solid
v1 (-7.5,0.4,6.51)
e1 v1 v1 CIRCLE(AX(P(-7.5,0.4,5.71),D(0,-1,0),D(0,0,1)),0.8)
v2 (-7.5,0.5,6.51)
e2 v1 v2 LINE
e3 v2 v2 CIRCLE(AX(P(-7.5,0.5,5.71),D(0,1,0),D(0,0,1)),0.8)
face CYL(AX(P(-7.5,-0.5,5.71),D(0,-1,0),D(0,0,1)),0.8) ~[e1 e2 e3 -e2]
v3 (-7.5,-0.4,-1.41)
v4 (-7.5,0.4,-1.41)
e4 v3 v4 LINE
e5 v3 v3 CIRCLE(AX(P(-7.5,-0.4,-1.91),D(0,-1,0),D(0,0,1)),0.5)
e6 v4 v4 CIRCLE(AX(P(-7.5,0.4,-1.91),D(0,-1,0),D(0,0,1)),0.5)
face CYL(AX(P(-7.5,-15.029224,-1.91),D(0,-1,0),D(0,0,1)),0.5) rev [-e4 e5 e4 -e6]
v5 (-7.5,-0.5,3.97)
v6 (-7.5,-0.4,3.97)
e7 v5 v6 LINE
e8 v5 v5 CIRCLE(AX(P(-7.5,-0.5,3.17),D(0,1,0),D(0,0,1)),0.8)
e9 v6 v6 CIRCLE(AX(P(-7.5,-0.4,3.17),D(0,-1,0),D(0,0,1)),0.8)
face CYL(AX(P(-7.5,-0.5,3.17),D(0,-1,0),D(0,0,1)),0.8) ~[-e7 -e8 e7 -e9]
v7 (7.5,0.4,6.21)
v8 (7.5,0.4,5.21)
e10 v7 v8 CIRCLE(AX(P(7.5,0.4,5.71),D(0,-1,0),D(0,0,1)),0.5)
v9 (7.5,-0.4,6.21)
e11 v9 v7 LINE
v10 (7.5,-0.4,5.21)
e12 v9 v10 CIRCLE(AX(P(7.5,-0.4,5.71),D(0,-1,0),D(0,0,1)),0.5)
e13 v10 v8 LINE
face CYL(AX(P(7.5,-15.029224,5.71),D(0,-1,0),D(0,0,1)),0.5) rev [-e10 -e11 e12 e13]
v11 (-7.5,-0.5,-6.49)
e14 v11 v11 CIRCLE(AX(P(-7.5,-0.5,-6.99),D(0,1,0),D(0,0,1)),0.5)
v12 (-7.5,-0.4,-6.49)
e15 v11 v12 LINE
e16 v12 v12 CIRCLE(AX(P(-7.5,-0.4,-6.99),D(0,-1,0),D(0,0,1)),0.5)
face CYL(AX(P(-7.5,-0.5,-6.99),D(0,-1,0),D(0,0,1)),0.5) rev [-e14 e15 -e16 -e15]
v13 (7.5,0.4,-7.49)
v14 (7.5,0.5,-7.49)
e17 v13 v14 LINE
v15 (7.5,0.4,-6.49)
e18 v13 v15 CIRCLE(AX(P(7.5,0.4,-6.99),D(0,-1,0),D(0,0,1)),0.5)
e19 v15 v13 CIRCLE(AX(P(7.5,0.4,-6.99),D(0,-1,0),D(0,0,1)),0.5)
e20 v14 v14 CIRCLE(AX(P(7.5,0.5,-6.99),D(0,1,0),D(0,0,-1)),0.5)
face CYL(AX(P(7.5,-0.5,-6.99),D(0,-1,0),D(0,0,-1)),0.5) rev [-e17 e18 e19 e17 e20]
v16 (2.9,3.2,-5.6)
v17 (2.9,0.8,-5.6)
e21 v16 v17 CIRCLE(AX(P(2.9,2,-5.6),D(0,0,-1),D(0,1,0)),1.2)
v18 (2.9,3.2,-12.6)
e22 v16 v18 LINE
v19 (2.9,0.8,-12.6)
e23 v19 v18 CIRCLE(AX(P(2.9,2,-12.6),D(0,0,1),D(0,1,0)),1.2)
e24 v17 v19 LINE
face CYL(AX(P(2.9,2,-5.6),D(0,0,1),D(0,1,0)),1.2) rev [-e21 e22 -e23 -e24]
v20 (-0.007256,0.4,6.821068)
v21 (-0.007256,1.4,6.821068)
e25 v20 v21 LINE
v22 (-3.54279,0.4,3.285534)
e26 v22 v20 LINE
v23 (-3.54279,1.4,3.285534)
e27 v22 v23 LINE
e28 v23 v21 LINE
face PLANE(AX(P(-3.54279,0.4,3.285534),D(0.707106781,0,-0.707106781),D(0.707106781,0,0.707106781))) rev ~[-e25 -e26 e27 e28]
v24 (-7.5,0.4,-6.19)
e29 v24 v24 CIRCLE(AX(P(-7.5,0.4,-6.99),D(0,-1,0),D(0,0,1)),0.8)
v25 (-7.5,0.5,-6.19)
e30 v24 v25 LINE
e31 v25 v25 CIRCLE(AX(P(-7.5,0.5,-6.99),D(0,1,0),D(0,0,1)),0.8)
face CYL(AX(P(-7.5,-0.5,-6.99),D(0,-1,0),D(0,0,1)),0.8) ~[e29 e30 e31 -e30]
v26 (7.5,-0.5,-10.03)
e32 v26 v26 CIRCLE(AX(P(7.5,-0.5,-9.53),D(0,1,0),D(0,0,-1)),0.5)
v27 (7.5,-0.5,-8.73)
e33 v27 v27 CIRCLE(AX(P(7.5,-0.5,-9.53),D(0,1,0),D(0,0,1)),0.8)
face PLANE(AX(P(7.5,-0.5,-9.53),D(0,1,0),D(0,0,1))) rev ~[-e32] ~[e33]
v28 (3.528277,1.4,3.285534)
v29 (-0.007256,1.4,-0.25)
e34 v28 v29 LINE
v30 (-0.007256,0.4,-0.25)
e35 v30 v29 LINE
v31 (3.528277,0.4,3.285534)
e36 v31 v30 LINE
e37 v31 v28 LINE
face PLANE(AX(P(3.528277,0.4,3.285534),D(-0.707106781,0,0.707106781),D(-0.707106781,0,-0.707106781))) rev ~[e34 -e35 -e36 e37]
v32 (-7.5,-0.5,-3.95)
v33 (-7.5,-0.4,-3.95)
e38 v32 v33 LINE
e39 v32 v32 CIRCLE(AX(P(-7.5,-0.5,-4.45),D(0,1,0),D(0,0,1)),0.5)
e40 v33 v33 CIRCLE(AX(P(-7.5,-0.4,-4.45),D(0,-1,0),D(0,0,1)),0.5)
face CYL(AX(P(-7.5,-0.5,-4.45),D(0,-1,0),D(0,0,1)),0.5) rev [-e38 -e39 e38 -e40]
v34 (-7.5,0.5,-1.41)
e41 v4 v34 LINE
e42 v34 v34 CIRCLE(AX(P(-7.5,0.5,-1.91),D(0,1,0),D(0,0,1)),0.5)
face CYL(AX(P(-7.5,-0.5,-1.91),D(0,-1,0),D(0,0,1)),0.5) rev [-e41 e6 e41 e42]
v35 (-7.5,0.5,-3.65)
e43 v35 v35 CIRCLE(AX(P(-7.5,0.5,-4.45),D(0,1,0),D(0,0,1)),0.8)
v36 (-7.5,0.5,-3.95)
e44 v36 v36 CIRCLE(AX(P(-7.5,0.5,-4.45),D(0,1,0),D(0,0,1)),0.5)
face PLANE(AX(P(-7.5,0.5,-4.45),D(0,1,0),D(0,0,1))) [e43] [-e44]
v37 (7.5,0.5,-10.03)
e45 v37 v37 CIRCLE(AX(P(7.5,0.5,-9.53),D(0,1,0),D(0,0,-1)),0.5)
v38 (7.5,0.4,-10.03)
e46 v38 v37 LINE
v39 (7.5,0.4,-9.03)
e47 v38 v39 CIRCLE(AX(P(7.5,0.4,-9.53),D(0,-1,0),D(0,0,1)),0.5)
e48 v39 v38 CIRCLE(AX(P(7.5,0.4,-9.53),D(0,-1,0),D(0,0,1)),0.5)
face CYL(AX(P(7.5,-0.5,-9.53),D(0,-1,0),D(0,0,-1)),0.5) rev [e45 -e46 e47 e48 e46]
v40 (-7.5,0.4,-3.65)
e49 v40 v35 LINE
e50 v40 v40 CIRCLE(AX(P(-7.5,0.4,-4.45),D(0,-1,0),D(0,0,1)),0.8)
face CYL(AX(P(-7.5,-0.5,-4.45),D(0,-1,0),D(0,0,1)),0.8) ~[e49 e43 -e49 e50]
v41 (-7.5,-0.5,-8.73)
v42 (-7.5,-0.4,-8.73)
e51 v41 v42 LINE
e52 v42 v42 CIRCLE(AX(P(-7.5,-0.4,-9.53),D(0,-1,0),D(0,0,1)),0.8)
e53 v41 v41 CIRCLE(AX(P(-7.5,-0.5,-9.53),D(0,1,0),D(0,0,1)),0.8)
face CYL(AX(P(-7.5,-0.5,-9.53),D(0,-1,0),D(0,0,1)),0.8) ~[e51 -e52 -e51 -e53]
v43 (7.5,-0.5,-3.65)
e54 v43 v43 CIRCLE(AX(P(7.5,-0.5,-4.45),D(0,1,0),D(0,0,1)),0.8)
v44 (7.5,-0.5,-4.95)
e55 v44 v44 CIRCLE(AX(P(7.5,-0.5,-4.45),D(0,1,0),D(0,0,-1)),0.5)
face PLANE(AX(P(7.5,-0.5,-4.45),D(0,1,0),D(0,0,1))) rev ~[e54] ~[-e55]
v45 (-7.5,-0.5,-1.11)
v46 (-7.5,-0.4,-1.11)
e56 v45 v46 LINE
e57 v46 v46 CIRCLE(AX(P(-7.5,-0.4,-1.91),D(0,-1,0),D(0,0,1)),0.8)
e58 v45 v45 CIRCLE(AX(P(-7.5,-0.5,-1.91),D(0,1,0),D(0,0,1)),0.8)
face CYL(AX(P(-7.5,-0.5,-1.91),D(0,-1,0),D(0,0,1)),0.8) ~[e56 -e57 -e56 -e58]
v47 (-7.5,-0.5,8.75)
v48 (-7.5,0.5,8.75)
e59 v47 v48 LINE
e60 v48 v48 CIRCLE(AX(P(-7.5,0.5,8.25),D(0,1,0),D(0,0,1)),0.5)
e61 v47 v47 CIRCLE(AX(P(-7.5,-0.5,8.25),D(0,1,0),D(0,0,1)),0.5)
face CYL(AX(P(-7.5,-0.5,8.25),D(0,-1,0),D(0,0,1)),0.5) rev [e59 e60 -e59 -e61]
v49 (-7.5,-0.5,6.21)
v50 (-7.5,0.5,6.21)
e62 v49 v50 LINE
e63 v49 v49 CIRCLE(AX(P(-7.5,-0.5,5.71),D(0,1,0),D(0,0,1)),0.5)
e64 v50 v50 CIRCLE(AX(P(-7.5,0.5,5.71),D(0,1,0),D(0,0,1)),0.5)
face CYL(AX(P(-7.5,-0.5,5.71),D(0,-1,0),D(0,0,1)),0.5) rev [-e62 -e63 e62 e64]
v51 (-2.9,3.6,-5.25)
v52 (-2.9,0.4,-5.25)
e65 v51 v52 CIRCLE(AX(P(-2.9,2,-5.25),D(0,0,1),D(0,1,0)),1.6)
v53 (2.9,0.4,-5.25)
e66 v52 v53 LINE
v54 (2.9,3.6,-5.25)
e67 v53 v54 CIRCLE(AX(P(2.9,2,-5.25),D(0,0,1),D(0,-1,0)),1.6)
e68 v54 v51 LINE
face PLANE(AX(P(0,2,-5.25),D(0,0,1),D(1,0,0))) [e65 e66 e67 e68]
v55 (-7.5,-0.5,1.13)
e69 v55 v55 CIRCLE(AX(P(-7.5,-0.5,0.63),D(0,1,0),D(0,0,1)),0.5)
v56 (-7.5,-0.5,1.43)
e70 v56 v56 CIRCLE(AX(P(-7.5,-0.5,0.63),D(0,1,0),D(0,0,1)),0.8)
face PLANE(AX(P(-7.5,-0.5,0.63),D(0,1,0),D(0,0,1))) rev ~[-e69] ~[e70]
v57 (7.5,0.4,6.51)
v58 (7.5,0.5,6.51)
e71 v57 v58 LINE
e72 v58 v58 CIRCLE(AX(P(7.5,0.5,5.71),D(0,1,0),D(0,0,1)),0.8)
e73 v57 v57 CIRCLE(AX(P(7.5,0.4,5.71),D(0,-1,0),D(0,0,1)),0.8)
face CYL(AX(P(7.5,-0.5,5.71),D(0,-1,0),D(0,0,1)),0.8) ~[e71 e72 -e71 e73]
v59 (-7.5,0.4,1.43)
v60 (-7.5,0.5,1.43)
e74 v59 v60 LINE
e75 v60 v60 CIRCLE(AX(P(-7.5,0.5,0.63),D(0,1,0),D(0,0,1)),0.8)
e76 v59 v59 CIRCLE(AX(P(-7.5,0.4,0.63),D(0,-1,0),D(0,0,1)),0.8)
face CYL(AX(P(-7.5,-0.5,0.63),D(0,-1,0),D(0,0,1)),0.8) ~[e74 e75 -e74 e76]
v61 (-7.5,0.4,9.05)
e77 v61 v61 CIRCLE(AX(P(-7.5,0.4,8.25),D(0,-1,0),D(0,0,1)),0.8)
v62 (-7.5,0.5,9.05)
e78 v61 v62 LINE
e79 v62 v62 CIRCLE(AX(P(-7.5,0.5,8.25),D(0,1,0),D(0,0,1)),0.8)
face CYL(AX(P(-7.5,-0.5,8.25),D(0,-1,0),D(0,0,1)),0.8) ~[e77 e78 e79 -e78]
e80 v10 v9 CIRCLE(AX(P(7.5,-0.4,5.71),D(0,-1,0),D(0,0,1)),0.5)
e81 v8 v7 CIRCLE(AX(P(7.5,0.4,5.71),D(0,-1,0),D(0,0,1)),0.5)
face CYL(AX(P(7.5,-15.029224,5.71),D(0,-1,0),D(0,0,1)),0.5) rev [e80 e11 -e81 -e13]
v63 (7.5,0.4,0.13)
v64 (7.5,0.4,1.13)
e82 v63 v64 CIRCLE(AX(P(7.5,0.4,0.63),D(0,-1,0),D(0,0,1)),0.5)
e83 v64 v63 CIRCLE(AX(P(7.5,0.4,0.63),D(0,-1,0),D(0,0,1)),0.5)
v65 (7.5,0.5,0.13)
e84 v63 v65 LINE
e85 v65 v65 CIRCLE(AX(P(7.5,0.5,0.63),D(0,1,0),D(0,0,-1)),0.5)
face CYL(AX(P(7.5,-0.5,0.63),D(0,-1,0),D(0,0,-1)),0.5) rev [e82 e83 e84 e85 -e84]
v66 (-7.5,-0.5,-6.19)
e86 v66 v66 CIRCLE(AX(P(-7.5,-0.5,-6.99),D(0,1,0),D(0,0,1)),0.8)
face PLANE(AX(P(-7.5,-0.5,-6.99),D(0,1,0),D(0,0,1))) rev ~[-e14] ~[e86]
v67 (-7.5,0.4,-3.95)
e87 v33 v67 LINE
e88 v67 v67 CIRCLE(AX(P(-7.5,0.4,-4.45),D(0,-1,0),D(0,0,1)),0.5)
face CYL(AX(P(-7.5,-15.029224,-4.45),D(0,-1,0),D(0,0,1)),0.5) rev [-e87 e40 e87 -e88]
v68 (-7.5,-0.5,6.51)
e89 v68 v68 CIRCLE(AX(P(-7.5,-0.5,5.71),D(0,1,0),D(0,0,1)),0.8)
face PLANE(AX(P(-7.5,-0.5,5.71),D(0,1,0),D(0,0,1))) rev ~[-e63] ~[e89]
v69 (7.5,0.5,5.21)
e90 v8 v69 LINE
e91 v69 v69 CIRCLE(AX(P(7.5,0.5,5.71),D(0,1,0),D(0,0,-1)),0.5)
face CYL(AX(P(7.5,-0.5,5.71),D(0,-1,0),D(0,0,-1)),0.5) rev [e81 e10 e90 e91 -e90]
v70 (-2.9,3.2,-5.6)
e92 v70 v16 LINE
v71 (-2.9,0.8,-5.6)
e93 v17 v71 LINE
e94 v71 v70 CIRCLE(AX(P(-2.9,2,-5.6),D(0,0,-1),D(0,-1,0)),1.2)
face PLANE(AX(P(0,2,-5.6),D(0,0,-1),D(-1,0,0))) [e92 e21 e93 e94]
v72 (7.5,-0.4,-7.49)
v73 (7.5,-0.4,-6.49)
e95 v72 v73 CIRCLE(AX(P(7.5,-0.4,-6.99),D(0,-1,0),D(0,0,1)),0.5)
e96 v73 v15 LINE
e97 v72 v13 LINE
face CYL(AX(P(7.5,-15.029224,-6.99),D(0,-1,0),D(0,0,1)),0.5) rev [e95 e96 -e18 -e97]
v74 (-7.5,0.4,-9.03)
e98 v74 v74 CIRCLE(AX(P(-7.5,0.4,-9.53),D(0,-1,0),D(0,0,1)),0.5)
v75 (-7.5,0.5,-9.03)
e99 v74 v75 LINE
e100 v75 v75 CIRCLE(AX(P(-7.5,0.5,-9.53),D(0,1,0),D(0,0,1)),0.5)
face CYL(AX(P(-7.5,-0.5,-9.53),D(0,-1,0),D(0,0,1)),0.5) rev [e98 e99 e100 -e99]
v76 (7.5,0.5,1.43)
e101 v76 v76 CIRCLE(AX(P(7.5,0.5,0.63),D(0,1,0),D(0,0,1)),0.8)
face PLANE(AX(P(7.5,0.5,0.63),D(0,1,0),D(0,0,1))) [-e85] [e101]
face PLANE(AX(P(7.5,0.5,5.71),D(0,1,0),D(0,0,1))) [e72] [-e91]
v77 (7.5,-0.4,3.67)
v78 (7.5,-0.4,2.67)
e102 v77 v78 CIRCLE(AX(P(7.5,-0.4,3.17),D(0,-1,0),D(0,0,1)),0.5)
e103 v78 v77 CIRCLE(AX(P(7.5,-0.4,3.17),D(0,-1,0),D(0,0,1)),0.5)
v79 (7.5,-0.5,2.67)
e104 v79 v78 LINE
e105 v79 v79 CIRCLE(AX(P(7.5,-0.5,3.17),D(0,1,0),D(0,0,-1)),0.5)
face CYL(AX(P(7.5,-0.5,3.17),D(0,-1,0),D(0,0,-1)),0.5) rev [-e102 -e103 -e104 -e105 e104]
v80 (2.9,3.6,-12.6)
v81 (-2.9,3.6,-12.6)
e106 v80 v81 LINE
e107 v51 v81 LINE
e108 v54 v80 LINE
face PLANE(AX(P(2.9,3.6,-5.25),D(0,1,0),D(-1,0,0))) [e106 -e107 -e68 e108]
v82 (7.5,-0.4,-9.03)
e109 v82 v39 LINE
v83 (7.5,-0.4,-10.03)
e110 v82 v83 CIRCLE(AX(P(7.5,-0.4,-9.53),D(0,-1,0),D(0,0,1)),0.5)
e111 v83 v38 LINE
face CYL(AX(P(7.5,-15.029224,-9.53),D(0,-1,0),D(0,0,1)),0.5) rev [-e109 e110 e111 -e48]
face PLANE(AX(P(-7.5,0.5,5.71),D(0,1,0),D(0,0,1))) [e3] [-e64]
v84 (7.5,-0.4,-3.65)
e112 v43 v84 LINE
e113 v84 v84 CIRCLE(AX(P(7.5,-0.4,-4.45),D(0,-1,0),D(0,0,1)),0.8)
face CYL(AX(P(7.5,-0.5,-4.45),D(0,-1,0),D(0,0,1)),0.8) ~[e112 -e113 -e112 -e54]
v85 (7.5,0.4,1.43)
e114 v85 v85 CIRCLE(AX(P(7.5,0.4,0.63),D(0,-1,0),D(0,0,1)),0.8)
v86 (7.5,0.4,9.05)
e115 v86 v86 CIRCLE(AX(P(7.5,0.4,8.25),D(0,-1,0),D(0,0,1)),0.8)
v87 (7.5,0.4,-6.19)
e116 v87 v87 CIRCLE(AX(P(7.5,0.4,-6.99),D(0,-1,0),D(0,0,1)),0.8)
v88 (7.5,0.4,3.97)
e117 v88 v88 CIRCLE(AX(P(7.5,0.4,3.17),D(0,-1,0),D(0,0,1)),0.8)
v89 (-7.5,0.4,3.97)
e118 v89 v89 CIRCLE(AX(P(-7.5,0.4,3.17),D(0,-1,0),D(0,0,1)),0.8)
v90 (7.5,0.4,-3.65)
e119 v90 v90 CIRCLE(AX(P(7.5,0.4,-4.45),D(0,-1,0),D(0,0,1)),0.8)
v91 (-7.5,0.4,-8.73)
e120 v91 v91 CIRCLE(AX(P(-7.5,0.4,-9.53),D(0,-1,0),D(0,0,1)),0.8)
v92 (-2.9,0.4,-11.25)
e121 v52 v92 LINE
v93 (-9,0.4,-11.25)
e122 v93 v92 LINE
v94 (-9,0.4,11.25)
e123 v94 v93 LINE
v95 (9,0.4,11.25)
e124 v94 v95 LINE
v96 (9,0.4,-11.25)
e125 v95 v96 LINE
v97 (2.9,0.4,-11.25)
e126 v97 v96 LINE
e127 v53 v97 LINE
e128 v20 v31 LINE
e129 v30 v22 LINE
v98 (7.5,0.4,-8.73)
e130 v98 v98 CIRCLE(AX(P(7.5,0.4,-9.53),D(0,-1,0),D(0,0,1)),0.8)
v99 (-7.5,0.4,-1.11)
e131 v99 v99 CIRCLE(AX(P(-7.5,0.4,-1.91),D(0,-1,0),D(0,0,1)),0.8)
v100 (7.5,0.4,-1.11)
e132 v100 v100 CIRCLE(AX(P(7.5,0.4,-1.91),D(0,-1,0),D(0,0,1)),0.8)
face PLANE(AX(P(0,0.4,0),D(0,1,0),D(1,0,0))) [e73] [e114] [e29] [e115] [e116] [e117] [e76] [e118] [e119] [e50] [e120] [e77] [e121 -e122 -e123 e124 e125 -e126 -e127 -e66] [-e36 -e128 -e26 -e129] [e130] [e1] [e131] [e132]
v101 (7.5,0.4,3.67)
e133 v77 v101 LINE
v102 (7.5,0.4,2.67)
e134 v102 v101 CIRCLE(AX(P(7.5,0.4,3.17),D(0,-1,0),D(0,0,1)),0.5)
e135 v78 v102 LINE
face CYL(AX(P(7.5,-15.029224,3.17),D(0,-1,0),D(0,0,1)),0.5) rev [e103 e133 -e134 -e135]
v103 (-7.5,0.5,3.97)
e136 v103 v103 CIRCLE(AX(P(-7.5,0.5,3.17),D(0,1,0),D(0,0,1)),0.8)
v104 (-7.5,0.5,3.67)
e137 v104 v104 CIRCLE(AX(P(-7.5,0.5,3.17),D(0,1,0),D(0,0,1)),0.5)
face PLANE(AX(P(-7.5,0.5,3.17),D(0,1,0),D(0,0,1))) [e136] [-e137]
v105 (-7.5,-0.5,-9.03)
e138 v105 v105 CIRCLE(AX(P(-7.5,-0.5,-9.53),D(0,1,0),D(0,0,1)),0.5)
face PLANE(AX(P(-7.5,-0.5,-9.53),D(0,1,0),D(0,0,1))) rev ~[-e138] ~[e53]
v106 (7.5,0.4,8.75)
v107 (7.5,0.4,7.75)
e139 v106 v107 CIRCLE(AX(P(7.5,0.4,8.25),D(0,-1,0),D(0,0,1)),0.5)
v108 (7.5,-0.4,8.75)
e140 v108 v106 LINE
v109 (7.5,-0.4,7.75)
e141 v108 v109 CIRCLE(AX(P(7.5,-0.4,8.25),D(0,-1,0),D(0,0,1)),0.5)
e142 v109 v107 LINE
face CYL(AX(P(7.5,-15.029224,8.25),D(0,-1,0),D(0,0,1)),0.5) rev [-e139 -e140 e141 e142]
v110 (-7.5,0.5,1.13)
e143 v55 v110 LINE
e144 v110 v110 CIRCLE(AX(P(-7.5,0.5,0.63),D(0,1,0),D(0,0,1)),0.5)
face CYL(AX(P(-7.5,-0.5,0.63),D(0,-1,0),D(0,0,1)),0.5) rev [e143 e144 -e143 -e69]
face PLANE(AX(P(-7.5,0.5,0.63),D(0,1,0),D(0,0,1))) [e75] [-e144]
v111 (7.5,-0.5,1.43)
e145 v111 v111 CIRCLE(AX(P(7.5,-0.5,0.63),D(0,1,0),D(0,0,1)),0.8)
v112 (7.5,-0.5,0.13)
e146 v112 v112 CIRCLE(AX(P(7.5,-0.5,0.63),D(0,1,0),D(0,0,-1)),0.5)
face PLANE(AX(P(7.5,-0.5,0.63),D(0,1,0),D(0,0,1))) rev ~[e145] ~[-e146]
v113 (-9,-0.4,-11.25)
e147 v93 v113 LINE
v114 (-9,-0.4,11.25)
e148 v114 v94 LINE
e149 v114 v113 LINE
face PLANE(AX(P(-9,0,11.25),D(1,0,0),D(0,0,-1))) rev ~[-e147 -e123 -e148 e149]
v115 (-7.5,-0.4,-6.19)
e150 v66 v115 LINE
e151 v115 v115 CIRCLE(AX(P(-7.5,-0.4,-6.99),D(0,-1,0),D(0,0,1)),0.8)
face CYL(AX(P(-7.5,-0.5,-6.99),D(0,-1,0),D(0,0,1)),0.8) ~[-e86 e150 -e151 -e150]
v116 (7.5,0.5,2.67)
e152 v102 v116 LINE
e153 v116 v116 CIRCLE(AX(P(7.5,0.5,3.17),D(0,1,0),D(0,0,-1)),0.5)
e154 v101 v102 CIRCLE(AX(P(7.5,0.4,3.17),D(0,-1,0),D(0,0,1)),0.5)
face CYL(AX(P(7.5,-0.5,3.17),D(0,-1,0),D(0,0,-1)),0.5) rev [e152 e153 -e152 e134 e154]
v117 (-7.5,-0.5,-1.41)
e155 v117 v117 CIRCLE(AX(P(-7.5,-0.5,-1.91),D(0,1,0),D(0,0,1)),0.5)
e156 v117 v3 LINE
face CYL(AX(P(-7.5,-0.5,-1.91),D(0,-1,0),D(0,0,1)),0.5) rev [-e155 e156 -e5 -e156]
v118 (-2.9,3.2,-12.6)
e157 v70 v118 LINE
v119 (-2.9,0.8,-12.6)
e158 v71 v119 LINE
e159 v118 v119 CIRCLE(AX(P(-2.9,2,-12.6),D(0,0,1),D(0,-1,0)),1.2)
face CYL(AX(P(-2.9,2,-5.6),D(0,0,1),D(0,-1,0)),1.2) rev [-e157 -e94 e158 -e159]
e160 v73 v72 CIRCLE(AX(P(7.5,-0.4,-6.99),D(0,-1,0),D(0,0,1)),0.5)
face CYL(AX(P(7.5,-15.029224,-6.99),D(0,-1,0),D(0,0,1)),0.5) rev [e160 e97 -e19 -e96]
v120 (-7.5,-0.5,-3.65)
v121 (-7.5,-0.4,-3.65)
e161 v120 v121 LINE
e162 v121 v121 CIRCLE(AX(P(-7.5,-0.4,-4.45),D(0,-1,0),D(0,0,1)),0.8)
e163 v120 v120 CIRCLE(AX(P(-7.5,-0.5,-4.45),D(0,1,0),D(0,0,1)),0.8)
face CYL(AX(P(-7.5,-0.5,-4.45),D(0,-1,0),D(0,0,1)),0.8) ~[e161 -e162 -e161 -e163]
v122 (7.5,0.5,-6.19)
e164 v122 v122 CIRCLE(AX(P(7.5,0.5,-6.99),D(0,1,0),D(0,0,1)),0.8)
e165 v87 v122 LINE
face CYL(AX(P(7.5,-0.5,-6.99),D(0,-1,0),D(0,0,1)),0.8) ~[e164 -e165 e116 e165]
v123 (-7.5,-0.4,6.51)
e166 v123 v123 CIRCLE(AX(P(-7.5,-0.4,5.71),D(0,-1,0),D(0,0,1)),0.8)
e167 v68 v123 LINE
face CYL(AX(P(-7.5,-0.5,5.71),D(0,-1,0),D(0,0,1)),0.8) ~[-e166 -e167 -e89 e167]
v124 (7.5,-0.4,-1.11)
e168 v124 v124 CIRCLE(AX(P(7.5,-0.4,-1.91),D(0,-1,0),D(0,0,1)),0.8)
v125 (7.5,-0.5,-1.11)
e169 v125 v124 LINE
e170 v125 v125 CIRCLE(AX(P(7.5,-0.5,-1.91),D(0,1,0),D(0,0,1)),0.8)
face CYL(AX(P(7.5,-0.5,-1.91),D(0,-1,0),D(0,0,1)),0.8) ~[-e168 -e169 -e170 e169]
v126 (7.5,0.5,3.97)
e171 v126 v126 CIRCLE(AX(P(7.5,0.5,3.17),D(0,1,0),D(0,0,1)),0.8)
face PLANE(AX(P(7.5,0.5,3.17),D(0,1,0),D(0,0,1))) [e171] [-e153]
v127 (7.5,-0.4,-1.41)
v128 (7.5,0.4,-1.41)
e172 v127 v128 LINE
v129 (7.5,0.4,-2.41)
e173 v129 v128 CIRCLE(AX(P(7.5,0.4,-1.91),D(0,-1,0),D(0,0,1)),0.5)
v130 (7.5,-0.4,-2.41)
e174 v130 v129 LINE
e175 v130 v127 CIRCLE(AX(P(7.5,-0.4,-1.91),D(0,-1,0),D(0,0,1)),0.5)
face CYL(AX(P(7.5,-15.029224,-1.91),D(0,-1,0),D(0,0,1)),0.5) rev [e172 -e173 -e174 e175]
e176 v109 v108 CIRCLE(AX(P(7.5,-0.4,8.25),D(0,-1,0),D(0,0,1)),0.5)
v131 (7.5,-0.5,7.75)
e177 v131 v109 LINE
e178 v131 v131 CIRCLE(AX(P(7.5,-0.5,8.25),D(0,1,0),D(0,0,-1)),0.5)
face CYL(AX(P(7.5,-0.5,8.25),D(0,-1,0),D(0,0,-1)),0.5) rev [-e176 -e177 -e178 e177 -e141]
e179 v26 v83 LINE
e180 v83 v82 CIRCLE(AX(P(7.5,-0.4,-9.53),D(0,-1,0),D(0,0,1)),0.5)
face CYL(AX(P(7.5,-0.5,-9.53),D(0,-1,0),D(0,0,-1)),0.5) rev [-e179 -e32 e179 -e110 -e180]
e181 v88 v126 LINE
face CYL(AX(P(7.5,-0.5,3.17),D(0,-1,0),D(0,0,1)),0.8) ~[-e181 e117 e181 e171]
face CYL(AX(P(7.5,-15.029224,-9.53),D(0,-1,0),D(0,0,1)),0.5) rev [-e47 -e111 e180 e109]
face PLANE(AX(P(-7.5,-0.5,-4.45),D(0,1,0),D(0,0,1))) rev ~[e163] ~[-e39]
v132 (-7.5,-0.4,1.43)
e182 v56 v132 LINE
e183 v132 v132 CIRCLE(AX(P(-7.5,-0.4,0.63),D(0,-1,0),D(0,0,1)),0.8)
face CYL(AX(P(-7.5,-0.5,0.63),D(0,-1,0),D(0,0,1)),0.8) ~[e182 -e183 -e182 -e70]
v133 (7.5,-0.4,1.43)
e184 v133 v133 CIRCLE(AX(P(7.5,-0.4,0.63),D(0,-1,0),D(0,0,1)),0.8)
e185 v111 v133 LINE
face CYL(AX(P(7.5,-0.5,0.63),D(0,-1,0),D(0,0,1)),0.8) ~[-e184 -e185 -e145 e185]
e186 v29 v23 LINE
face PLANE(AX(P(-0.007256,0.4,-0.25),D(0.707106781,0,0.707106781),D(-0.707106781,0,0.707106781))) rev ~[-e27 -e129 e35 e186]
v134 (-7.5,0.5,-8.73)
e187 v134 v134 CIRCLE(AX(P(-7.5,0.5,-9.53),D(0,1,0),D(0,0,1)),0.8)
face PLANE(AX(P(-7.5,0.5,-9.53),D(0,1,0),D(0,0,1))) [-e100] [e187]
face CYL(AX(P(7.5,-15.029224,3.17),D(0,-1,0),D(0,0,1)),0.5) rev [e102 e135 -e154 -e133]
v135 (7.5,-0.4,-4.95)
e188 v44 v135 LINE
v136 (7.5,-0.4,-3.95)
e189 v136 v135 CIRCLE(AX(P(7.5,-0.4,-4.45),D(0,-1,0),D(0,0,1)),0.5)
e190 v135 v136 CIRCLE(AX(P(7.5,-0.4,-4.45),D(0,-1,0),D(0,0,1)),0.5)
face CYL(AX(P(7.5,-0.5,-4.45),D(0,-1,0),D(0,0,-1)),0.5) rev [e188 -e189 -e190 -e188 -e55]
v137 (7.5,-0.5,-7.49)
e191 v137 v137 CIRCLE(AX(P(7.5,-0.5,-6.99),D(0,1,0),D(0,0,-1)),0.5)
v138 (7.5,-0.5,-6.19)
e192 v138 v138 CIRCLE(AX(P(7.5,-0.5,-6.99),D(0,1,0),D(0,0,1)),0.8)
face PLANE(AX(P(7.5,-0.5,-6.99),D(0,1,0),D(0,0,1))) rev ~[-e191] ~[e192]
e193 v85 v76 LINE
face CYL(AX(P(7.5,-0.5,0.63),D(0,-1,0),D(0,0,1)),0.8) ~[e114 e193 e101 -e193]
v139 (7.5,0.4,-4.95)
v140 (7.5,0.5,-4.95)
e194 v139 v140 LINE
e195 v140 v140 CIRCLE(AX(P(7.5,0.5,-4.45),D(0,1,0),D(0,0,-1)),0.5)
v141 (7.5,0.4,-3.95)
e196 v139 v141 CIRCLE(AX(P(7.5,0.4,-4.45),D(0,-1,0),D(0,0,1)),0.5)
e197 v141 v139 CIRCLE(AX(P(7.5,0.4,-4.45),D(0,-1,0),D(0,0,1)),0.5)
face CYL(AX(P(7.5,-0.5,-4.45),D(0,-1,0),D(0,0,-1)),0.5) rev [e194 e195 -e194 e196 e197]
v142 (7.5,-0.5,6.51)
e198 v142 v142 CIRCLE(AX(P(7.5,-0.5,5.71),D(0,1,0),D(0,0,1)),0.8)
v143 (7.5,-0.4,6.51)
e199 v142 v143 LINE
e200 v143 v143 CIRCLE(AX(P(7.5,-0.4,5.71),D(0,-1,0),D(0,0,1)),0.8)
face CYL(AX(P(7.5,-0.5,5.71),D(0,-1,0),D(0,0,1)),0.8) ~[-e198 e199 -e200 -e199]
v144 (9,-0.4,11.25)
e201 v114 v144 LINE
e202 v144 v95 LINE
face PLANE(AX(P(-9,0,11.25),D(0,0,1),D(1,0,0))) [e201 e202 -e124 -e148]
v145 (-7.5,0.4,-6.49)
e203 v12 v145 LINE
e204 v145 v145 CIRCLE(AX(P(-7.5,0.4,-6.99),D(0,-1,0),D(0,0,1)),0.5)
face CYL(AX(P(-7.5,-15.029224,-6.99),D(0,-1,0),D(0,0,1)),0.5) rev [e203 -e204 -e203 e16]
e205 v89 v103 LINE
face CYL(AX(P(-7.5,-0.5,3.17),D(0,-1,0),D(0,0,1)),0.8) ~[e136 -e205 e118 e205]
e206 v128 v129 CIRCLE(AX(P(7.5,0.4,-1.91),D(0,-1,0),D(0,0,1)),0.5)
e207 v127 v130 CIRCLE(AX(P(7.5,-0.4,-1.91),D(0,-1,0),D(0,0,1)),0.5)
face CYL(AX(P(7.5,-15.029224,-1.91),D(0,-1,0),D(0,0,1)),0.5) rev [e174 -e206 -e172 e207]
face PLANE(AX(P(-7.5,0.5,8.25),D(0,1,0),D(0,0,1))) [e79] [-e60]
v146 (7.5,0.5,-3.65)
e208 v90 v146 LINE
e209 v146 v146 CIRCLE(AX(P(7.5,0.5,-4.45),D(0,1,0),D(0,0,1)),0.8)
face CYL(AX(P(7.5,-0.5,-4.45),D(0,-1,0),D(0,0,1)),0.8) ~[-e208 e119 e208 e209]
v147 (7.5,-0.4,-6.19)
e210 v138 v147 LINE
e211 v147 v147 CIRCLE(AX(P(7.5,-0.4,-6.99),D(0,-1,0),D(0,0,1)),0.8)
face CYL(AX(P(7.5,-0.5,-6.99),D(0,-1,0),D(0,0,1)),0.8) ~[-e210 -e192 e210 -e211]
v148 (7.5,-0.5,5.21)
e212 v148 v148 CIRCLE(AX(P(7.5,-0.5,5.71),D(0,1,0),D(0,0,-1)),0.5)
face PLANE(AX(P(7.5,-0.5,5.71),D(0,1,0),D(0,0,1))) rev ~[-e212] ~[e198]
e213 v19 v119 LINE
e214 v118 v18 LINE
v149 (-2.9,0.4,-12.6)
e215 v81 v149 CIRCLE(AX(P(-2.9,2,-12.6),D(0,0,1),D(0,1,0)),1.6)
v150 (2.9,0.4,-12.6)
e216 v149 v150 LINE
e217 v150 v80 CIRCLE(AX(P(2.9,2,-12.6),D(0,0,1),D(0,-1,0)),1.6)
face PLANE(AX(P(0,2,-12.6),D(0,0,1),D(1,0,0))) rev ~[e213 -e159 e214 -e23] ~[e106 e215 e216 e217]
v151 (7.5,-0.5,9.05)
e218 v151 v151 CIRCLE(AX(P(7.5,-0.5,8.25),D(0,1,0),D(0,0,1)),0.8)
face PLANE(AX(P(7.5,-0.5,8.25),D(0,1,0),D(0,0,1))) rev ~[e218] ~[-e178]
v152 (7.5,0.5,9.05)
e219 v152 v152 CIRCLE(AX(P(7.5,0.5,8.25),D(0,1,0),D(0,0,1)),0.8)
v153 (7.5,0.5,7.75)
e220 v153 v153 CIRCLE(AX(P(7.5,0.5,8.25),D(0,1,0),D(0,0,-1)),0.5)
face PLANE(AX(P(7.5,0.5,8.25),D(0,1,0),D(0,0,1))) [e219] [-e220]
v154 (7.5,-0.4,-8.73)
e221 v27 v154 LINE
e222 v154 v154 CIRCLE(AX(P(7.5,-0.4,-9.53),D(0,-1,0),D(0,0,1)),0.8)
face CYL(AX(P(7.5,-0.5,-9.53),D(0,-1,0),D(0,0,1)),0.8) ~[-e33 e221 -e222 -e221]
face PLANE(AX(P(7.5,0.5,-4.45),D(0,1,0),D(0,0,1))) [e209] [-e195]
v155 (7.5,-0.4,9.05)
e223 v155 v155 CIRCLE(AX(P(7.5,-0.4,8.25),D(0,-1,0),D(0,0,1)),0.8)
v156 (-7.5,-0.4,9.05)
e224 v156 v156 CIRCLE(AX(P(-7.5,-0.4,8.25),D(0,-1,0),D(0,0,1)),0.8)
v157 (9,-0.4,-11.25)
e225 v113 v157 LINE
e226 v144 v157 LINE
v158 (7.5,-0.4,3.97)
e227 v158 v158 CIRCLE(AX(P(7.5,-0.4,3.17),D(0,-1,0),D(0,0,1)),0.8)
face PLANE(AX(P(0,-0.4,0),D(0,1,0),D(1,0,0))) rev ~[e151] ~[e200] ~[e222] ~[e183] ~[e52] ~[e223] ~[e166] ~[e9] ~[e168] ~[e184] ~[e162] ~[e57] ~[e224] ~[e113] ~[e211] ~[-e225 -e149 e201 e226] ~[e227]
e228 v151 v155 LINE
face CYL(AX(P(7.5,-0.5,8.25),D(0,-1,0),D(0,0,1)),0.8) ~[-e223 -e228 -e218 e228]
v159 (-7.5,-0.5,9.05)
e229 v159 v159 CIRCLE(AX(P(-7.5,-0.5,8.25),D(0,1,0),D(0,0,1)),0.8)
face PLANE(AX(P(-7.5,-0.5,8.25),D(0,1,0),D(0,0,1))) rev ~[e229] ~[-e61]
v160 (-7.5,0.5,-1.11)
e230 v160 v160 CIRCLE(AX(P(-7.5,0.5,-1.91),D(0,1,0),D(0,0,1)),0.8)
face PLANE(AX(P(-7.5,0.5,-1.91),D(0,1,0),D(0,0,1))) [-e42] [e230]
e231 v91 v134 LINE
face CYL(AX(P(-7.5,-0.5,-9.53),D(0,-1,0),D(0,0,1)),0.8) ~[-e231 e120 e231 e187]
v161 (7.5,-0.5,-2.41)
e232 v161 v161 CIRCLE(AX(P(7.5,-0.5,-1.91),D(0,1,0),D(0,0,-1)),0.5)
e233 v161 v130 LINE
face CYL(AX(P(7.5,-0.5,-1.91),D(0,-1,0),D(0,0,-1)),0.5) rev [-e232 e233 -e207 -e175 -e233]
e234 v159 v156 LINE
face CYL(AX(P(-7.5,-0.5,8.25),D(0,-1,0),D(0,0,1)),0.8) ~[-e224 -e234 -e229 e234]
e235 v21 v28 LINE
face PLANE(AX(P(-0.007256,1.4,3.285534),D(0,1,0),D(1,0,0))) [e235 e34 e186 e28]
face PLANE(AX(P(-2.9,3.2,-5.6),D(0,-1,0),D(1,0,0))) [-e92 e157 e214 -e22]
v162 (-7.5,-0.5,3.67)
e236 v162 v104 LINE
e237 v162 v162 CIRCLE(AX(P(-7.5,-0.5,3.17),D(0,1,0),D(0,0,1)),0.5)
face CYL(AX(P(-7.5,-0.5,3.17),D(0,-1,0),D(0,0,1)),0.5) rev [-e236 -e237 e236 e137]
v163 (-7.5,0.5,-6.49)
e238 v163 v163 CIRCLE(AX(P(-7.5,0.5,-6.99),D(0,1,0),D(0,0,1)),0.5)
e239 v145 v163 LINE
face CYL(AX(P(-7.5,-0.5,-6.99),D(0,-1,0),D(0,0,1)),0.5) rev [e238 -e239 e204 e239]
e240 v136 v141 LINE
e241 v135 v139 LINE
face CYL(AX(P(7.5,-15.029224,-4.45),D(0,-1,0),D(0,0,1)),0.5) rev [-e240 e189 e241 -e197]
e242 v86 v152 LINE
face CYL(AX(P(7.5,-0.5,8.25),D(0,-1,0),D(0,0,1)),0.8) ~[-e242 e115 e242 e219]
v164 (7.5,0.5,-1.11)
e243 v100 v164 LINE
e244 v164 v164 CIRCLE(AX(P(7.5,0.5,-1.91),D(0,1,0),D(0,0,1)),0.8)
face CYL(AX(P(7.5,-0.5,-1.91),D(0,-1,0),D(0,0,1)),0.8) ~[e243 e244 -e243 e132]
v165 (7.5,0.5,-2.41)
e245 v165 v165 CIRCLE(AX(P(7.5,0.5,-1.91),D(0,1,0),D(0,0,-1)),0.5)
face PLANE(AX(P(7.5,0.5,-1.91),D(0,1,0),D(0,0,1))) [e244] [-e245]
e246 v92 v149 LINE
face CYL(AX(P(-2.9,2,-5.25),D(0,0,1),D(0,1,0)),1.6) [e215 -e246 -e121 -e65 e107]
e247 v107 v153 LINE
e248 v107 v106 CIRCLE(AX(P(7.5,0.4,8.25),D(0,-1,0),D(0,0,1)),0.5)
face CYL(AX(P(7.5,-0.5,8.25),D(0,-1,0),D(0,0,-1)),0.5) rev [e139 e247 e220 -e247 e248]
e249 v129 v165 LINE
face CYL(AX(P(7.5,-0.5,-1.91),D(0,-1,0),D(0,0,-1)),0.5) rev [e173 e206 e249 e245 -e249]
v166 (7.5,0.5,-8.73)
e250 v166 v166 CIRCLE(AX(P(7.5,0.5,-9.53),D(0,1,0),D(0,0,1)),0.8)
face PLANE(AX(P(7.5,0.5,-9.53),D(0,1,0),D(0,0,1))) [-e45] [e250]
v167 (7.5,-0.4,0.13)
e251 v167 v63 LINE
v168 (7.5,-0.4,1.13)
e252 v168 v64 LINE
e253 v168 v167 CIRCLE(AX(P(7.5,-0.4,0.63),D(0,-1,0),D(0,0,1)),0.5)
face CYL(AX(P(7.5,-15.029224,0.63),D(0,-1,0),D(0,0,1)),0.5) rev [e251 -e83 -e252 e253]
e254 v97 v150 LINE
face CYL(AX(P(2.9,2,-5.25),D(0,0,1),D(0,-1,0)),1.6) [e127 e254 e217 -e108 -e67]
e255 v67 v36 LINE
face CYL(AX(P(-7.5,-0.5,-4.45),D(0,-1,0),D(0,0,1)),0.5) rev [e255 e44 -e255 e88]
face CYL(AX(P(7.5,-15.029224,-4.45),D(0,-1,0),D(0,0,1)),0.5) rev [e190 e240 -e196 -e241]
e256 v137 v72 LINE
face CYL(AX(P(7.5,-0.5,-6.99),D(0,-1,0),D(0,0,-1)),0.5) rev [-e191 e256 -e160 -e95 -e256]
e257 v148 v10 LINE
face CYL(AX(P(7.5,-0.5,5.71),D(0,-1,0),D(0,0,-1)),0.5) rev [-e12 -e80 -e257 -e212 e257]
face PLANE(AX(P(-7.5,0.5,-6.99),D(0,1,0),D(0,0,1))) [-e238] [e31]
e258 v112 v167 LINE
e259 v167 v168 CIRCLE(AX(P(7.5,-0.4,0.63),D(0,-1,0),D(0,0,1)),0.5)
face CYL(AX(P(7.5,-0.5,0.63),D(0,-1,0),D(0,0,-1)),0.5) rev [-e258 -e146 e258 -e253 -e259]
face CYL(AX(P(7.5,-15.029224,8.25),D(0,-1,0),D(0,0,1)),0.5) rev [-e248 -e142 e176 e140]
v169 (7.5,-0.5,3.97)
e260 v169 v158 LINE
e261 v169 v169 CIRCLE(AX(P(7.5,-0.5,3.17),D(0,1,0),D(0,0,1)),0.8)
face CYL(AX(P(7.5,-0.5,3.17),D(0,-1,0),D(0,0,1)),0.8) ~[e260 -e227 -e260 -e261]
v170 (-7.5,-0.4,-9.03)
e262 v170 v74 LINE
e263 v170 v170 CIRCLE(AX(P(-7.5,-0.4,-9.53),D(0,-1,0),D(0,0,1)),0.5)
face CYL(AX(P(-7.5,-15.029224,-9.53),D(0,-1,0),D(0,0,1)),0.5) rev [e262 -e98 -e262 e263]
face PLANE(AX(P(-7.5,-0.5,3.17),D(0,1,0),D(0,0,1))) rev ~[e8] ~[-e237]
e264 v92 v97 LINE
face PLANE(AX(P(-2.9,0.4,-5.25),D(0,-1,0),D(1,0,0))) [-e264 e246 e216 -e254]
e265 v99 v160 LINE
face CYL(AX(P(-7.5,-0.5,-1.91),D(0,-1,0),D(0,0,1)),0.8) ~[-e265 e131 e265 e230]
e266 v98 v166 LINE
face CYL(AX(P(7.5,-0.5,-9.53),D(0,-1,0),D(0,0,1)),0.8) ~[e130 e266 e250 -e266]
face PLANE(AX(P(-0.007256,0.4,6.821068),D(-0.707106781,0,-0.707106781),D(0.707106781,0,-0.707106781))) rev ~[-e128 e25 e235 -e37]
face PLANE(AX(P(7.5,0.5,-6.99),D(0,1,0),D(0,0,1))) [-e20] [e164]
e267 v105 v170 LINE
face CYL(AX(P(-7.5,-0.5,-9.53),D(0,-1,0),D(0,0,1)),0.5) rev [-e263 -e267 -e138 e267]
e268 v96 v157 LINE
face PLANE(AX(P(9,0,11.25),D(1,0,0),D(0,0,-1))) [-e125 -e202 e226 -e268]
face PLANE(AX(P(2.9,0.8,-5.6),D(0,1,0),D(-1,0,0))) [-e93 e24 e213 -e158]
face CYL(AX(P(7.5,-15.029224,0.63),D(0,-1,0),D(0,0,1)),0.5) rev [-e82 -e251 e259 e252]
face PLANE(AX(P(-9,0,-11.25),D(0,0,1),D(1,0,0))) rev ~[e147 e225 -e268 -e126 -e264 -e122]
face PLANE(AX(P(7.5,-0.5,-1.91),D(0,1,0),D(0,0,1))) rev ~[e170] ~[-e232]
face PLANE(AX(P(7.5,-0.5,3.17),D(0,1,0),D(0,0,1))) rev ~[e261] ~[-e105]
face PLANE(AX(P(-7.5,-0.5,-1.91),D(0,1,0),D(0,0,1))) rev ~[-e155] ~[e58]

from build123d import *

# Parameters (mm, degrees)
SKETCH1_W                = 18
SKETCH1_H                = 22.5
BOSS_EXTRUDE1_DEPTH      = 0.4
CUT_EXTRUDE1_DEPTH       = 15.429223818
CUT_EXTRUDE1_DEPTH_BACK  = 15.429223818
SKETCH2_R                = 0.5
BOSS_EXTRUDE2_DEPTH      = 1.35
BOSS_EXTRUDE2_DEPTH_BACK = 6
CUT_EXTRUDE2_DEPTH       = 26.744562533
CUT_EXTRUDE2_DEPTH_BACK  = 7
BOSS_EXTRUDE3_DEPTH      = 1
BOSS_EXTRUDE4_DEPTH      = 0.1
BOSS_EXTRUDE4_DEPTH_BACK = 0.9
SKETCH6_R                = 0.8
SKETCH6_R_2              = 0.5


with BuildPart() as part:
    # Sketch1 → Boss-Extrude1 (new, symmetric)
    with BuildSketch(Plane(origin=(0, 0, 0), x_dir=(1, 0, 0), z_dir=(0, 1, 0))):
        Rectangle(SKETCH1_W, SKETCH1_H)
    extrude(amount=BOSS_EXTRUDE1_DEPTH, both=True)

    # Sketch2 → Cut-Extrude1 (cut, two sides: drawn at the far end of the back side and taken through both)
    with BuildSketch(Plane(origin=(0, 0.4, 0), x_dir=(1, 0, 0), z_dir=(0, 1, 0)).offset(-CUT_EXTRUDE1_DEPTH_BACK)):
        with Locations(Location((7.5, -8.25, 0), (0, 0, 270))):
            Circle(SKETCH2_R)
        with Locations(Location((-7.5, -8.25, 0), (0, 0, 270))):
            Circle(SKETCH2_R)
        with Locations(Location((-7.5, -5.71, 0), (0, 0, 270))):
            Circle(SKETCH2_R)
        with Locations(Location((7.5, -5.71, 0), (0, 0, 270))):
            Circle(SKETCH2_R)
        with Locations(Location((-7.5, -3.17, 0), (0, 0, 270))):
            Circle(SKETCH2_R)
        with Locations(Location((7.5, -3.17, 0), (0, 0, 270))):
            Circle(SKETCH2_R)
        with Locations(Location((-7.5, -0.63, 0), (0, 0, 270))):
            Circle(SKETCH2_R)
        with Locations(Location((7.5, -0.63, 0), (0, 0, 270))):
            Circle(SKETCH2_R)
        with Locations(Location((-7.5, 1.91, 0), (0, 0, 270))):
            Circle(SKETCH2_R)
        with Locations(Location((7.5, 1.91, 0), (0, 0, 270))):
            Circle(SKETCH2_R)
        with Locations(Location((-7.5, 4.45, 0), (0, 0, 270))):
            Circle(SKETCH2_R)
        with Locations(Location((7.5, 4.45, 0), (0, 0, 270))):
            Circle(SKETCH2_R)
        with Locations(Location((-7.5, 6.99, 0), (0, 0, 270))):
            Circle(SKETCH2_R)
        with Locations(Location((7.5, 6.99, 0), (0, 0, 270))):
            Circle(SKETCH2_R)
        with Locations(Location((-7.5, 9.53, 0), (0, 0, 270))):
            Circle(SKETCH2_R)
        with Locations(Location((7.5, 9.53, 0), (0, 0, 270))):
            Circle(SKETCH2_R)
    extrude(amount=CUT_EXTRUDE1_DEPTH + CUT_EXTRUDE1_DEPTH_BACK, mode=Mode.SUBTRACT)

    # Sketch3 → Boss-Extrude2 (add, two sides: drawn at the far end of the back side and taken through both)
    with BuildSketch(Plane(origin=(0, 0, -11.25), x_dir=(-1, 0, 0), z_dir=(0, 0, -1)).offset(-BOSS_EXTRUDE2_DEPTH_BACK)):
        with BuildLine():
            Line((-2.9, 3.6), (2.9, 3.6))
            ThreePointArc((2.9, 3.6), (4.5, 2), (2.9, 0.4))
            Line((2.9, 0.4), (-2.9, 0.4))
            ThreePointArc((-2.9, 0.4), (-4.5, 2), (-2.9, 3.6))
        make_face()
    extrude(amount=BOSS_EXTRUDE2_DEPTH + BOSS_EXTRUDE2_DEPTH_BACK)

    # Sketch4 → Cut-Extrude2 (cut, two sides: drawn at the far end of the back side and taken through both)
    with BuildSketch(Plane(origin=(0, 0, -12.6), x_dir=(-1, 0, 0), z_dir=(0, 0, -1)).offset(-CUT_EXTRUDE2_DEPTH_BACK)):
        with BuildLine():
            Line((-2.9, 0.8), (2.9, 0.8))
            ThreePointArc((2.9, 0.8), (4.1, 2), (2.9, 3.2))
            Line((2.9, 3.2), (-2.9, 3.2))
            ThreePointArc((-2.9, 3.2), (-4.1, 2), (-2.9, 0.8))
        make_face()
    extrude(amount=CUT_EXTRUDE2_DEPTH + CUT_EXTRUDE2_DEPTH_BACK, mode=Mode.SUBTRACT)

    # Sketch5 → Boss-Extrude3 (add)
    with BuildSketch(Plane(origin=(0, 0.4, 0), x_dir=(1, 0, 0), z_dir=(0, 1, 0))):
        Polygon((-3.542790315, -3.285533906), (-0.00725641, -6.821067812), (3.528277496, -3.285533906), (-0.00725641, 0.25), align=None)
    extrude(amount=BOSS_EXTRUDE3_DEPTH)

    # Sketch6 → Boss-Extrude4 (add, two sides: drawn at the far end of the back side and taken through both)
    # profile 1 of 16: a face of its own
    with BuildSketch(Plane(origin=(0, 0.4, 0), x_dir=(1, 0, 0), z_dir=(0, 1, 0)).offset(-BOSS_EXTRUDE4_DEPTH_BACK)):
        with Locations(Location((-7.5, -8.25, 0), (0, 0, 270))):
            Circle(SKETCH6_R)
        with Locations(Location((-7.5, -8.25, 0), (0, 0, 270))):
            Circle(SKETCH6_R_2, mode=Mode.SUBTRACT)
    # profile 2 of 16: a face of its own
    with BuildSketch(Plane(origin=(0, 0.4, 0), x_dir=(1, 0, 0), z_dir=(0, 1, 0)).offset(-BOSS_EXTRUDE4_DEPTH_BACK)):
        with Locations(Location((7.5, -8.25, 0), (0, 0, 270))):
            Circle(SKETCH6_R)
        with Locations(Location((7.5, -8.25, 0), (0, 0, 90))):
            Circle(SKETCH6_R_2, mode=Mode.SUBTRACT)
    # profile 3 of 16: a face of its own
    with BuildSketch(Plane(origin=(0, 0.4, 0), x_dir=(1, 0, 0), z_dir=(0, 1, 0)).offset(-BOSS_EXTRUDE4_DEPTH_BACK)):
        with Locations(Location((7.5, -5.71, 0), (0, 0, 270))):
            Circle(SKETCH6_R)
        with Locations(Location((7.5, -5.71, 0), (0, 0, 90))):
            Circle(SKETCH6_R_2, mode=Mode.SUBTRACT)
    # profile 4 of 16: a face of its own
    with BuildSketch(Plane(origin=(0, 0.4, 0), x_dir=(1, 0, 0), z_dir=(0, 1, 0)).offset(-BOSS_EXTRUDE4_DEPTH_BACK)):
        with Locations(Location((-7.5, -5.71, 0), (0, 0, 270))):
            Circle(SKETCH6_R)
        with Locations(Location((-7.5, -5.71, 0), (0, 0, 270))):
            Circle(SKETCH6_R_2, mode=Mode.SUBTRACT)
    # profile 5 of 16: a face of its own
    with BuildSketch(Plane(origin=(0, 0.4, 0), x_dir=(1, 0, 0), z_dir=(0, 1, 0)).offset(-BOSS_EXTRUDE4_DEPTH_BACK)):
        with Locations(Location((7.5, -3.17, 0), (0, 0, 270))):
            Circle(SKETCH6_R)
        with Locations(Location((7.5, -3.17, 0), (0, 0, 90))):
            Circle(SKETCH6_R_2, mode=Mode.SUBTRACT)
    # profile 6 of 16: a face of its own
    with BuildSketch(Plane(origin=(0, 0.4, 0), x_dir=(1, 0, 0), z_dir=(0, 1, 0)).offset(-BOSS_EXTRUDE4_DEPTH_BACK)):
        with Locations(Location((-7.5, -3.17, 0), (0, 0, 270))):
            Circle(SKETCH6_R)
        with Locations(Location((-7.5, -3.17, 0), (0, 0, 270))):
            Circle(SKETCH6_R_2, mode=Mode.SUBTRACT)
    # profile 7 of 16: a face of its own
    with BuildSketch(Plane(origin=(0, 0.4, 0), x_dir=(1, 0, 0), z_dir=(0, 1, 0)).offset(-BOSS_EXTRUDE4_DEPTH_BACK)):
        with Locations(Location((7.5, -0.63, 0), (0, 0, 270))):
            Circle(SKETCH6_R)
        with Locations(Location((7.5, -0.63, 0), (0, 0, 90))):
            Circle(SKETCH6_R_2, mode=Mode.SUBTRACT)
    # profile 8 of 16: a face of its own
    with BuildSketch(Plane(origin=(0, 0.4, 0), x_dir=(1, 0, 0), z_dir=(0, 1, 0)).offset(-BOSS_EXTRUDE4_DEPTH_BACK)):
        with Locations(Location((-7.5, -0.63, 0), (0, 0, 270))):
            Circle(SKETCH6_R)
        with Locations(Location((-7.5, -0.63, 0), (0, 0, 270))):
            Circle(SKETCH6_R_2, mode=Mode.SUBTRACT)
    # profile 9 of 16: a face of its own
    with BuildSketch(Plane(origin=(0, 0.4, 0), x_dir=(1, 0, 0), z_dir=(0, 1, 0)).offset(-BOSS_EXTRUDE4_DEPTH_BACK)):
        with Locations(Location((7.5, 1.91, 0), (0, 0, 270))):
            Circle(SKETCH6_R)
        with Locations(Location((7.5, 1.91, 0), (0, 0, 90))):
            Circle(SKETCH6_R_2, mode=Mode.SUBTRACT)
    # profile 10 of 16: a face of its own
    with BuildSketch(Plane(origin=(0, 0.4, 0), x_dir=(1, 0, 0), z_dir=(0, 1, 0)).offset(-BOSS_EXTRUDE4_DEPTH_BACK)):
        with Locations(Location((-7.5, 1.91, 0), (0, 0, 270))):
            Circle(SKETCH6_R)
        with Locations(Location((-7.5, 1.91, 0), (0, 0, 270))):
            Circle(SKETCH6_R_2, mode=Mode.SUBTRACT)
    # profile 11 of 16: a face of its own
    with BuildSketch(Plane(origin=(0, 0.4, 0), x_dir=(1, 0, 0), z_dir=(0, 1, 0)).offset(-BOSS_EXTRUDE4_DEPTH_BACK)):
        with Locations(Location((7.5, 4.45, 0), (0, 0, 270))):
            Circle(SKETCH6_R)
        with Locations(Location((7.5, 4.45, 0), (0, 0, 90))):
            Circle(SKETCH6_R_2, mode=Mode.SUBTRACT)
    # profile 12 of 16: a face of its own
    with BuildSketch(Plane(origin=(0, 0.4, 0), x_dir=(1, 0, 0), z_dir=(0, 1, 0)).offset(-BOSS_EXTRUDE4_DEPTH_BACK)):
        with Locations(Location((-7.5, 4.45, 0), (0, 0, 270))):
            Circle(SKETCH6_R)
        with Locations(Location((-7.5, 4.45, 0), (0, 0, 270))):
            Circle(SKETCH6_R_2, mode=Mode.SUBTRACT)
    # profile 13 of 16: a face of its own
    with BuildSketch(Plane(origin=(0, 0.4, 0), x_dir=(1, 0, 0), z_dir=(0, 1, 0)).offset(-BOSS_EXTRUDE4_DEPTH_BACK)):
        with Locations(Location((7.5, 6.99, 0), (0, 0, 270))):
            Circle(SKETCH6_R)
        with Locations(Location((7.5, 6.99, 0), (0, 0, 90))):
            Circle(SKETCH6_R_2, mode=Mode.SUBTRACT)
    # profile 14 of 16: a face of its own
    with BuildSketch(Plane(origin=(0, 0.4, 0), x_dir=(1, 0, 0), z_dir=(0, 1, 0)).offset(-BOSS_EXTRUDE4_DEPTH_BACK)):
        with Locations(Location((-7.5, 6.99, 0), (0, 0, 270))):
            Circle(SKETCH6_R)
        with Locations(Location((-7.5, 6.99, 0), (0, 0, 270))):
            Circle(SKETCH6_R_2, mode=Mode.SUBTRACT)
    # profile 15 of 16: a face of its own
    with BuildSketch(Plane(origin=(0, 0.4, 0), x_dir=(1, 0, 0), z_dir=(0, 1, 0)).offset(-BOSS_EXTRUDE4_DEPTH_BACK)):
        with Locations(Location((7.5, 9.53, 0), (0, 0, 270))):
            Circle(SKETCH6_R)
        with Locations(Location((7.5, 9.53, 0), (0, 0, 90))):
            Circle(SKETCH6_R_2, mode=Mode.SUBTRACT)
    # profile 16 of 16: a face of its own
    with BuildSketch(Plane(origin=(0, 0.4, 0), x_dir=(1, 0, 0), z_dir=(0, 1, 0)).offset(-BOSS_EXTRUDE4_DEPTH_BACK)):
        with Locations(Location((-7.5, 9.53, 0), (0, 0, 270))):
            Circle(SKETCH6_R)
        with Locations(Location((-7.5, 9.53, 0), (0, 0, 270))):
            Circle(SKETCH6_R_2, mode=Mode.SUBTRACT)
    extrude(amount=BOSS_EXTRUDE4_DEPTH + BOSS_EXTRUDE4_DEPTH_BACK)


solid = part.part
